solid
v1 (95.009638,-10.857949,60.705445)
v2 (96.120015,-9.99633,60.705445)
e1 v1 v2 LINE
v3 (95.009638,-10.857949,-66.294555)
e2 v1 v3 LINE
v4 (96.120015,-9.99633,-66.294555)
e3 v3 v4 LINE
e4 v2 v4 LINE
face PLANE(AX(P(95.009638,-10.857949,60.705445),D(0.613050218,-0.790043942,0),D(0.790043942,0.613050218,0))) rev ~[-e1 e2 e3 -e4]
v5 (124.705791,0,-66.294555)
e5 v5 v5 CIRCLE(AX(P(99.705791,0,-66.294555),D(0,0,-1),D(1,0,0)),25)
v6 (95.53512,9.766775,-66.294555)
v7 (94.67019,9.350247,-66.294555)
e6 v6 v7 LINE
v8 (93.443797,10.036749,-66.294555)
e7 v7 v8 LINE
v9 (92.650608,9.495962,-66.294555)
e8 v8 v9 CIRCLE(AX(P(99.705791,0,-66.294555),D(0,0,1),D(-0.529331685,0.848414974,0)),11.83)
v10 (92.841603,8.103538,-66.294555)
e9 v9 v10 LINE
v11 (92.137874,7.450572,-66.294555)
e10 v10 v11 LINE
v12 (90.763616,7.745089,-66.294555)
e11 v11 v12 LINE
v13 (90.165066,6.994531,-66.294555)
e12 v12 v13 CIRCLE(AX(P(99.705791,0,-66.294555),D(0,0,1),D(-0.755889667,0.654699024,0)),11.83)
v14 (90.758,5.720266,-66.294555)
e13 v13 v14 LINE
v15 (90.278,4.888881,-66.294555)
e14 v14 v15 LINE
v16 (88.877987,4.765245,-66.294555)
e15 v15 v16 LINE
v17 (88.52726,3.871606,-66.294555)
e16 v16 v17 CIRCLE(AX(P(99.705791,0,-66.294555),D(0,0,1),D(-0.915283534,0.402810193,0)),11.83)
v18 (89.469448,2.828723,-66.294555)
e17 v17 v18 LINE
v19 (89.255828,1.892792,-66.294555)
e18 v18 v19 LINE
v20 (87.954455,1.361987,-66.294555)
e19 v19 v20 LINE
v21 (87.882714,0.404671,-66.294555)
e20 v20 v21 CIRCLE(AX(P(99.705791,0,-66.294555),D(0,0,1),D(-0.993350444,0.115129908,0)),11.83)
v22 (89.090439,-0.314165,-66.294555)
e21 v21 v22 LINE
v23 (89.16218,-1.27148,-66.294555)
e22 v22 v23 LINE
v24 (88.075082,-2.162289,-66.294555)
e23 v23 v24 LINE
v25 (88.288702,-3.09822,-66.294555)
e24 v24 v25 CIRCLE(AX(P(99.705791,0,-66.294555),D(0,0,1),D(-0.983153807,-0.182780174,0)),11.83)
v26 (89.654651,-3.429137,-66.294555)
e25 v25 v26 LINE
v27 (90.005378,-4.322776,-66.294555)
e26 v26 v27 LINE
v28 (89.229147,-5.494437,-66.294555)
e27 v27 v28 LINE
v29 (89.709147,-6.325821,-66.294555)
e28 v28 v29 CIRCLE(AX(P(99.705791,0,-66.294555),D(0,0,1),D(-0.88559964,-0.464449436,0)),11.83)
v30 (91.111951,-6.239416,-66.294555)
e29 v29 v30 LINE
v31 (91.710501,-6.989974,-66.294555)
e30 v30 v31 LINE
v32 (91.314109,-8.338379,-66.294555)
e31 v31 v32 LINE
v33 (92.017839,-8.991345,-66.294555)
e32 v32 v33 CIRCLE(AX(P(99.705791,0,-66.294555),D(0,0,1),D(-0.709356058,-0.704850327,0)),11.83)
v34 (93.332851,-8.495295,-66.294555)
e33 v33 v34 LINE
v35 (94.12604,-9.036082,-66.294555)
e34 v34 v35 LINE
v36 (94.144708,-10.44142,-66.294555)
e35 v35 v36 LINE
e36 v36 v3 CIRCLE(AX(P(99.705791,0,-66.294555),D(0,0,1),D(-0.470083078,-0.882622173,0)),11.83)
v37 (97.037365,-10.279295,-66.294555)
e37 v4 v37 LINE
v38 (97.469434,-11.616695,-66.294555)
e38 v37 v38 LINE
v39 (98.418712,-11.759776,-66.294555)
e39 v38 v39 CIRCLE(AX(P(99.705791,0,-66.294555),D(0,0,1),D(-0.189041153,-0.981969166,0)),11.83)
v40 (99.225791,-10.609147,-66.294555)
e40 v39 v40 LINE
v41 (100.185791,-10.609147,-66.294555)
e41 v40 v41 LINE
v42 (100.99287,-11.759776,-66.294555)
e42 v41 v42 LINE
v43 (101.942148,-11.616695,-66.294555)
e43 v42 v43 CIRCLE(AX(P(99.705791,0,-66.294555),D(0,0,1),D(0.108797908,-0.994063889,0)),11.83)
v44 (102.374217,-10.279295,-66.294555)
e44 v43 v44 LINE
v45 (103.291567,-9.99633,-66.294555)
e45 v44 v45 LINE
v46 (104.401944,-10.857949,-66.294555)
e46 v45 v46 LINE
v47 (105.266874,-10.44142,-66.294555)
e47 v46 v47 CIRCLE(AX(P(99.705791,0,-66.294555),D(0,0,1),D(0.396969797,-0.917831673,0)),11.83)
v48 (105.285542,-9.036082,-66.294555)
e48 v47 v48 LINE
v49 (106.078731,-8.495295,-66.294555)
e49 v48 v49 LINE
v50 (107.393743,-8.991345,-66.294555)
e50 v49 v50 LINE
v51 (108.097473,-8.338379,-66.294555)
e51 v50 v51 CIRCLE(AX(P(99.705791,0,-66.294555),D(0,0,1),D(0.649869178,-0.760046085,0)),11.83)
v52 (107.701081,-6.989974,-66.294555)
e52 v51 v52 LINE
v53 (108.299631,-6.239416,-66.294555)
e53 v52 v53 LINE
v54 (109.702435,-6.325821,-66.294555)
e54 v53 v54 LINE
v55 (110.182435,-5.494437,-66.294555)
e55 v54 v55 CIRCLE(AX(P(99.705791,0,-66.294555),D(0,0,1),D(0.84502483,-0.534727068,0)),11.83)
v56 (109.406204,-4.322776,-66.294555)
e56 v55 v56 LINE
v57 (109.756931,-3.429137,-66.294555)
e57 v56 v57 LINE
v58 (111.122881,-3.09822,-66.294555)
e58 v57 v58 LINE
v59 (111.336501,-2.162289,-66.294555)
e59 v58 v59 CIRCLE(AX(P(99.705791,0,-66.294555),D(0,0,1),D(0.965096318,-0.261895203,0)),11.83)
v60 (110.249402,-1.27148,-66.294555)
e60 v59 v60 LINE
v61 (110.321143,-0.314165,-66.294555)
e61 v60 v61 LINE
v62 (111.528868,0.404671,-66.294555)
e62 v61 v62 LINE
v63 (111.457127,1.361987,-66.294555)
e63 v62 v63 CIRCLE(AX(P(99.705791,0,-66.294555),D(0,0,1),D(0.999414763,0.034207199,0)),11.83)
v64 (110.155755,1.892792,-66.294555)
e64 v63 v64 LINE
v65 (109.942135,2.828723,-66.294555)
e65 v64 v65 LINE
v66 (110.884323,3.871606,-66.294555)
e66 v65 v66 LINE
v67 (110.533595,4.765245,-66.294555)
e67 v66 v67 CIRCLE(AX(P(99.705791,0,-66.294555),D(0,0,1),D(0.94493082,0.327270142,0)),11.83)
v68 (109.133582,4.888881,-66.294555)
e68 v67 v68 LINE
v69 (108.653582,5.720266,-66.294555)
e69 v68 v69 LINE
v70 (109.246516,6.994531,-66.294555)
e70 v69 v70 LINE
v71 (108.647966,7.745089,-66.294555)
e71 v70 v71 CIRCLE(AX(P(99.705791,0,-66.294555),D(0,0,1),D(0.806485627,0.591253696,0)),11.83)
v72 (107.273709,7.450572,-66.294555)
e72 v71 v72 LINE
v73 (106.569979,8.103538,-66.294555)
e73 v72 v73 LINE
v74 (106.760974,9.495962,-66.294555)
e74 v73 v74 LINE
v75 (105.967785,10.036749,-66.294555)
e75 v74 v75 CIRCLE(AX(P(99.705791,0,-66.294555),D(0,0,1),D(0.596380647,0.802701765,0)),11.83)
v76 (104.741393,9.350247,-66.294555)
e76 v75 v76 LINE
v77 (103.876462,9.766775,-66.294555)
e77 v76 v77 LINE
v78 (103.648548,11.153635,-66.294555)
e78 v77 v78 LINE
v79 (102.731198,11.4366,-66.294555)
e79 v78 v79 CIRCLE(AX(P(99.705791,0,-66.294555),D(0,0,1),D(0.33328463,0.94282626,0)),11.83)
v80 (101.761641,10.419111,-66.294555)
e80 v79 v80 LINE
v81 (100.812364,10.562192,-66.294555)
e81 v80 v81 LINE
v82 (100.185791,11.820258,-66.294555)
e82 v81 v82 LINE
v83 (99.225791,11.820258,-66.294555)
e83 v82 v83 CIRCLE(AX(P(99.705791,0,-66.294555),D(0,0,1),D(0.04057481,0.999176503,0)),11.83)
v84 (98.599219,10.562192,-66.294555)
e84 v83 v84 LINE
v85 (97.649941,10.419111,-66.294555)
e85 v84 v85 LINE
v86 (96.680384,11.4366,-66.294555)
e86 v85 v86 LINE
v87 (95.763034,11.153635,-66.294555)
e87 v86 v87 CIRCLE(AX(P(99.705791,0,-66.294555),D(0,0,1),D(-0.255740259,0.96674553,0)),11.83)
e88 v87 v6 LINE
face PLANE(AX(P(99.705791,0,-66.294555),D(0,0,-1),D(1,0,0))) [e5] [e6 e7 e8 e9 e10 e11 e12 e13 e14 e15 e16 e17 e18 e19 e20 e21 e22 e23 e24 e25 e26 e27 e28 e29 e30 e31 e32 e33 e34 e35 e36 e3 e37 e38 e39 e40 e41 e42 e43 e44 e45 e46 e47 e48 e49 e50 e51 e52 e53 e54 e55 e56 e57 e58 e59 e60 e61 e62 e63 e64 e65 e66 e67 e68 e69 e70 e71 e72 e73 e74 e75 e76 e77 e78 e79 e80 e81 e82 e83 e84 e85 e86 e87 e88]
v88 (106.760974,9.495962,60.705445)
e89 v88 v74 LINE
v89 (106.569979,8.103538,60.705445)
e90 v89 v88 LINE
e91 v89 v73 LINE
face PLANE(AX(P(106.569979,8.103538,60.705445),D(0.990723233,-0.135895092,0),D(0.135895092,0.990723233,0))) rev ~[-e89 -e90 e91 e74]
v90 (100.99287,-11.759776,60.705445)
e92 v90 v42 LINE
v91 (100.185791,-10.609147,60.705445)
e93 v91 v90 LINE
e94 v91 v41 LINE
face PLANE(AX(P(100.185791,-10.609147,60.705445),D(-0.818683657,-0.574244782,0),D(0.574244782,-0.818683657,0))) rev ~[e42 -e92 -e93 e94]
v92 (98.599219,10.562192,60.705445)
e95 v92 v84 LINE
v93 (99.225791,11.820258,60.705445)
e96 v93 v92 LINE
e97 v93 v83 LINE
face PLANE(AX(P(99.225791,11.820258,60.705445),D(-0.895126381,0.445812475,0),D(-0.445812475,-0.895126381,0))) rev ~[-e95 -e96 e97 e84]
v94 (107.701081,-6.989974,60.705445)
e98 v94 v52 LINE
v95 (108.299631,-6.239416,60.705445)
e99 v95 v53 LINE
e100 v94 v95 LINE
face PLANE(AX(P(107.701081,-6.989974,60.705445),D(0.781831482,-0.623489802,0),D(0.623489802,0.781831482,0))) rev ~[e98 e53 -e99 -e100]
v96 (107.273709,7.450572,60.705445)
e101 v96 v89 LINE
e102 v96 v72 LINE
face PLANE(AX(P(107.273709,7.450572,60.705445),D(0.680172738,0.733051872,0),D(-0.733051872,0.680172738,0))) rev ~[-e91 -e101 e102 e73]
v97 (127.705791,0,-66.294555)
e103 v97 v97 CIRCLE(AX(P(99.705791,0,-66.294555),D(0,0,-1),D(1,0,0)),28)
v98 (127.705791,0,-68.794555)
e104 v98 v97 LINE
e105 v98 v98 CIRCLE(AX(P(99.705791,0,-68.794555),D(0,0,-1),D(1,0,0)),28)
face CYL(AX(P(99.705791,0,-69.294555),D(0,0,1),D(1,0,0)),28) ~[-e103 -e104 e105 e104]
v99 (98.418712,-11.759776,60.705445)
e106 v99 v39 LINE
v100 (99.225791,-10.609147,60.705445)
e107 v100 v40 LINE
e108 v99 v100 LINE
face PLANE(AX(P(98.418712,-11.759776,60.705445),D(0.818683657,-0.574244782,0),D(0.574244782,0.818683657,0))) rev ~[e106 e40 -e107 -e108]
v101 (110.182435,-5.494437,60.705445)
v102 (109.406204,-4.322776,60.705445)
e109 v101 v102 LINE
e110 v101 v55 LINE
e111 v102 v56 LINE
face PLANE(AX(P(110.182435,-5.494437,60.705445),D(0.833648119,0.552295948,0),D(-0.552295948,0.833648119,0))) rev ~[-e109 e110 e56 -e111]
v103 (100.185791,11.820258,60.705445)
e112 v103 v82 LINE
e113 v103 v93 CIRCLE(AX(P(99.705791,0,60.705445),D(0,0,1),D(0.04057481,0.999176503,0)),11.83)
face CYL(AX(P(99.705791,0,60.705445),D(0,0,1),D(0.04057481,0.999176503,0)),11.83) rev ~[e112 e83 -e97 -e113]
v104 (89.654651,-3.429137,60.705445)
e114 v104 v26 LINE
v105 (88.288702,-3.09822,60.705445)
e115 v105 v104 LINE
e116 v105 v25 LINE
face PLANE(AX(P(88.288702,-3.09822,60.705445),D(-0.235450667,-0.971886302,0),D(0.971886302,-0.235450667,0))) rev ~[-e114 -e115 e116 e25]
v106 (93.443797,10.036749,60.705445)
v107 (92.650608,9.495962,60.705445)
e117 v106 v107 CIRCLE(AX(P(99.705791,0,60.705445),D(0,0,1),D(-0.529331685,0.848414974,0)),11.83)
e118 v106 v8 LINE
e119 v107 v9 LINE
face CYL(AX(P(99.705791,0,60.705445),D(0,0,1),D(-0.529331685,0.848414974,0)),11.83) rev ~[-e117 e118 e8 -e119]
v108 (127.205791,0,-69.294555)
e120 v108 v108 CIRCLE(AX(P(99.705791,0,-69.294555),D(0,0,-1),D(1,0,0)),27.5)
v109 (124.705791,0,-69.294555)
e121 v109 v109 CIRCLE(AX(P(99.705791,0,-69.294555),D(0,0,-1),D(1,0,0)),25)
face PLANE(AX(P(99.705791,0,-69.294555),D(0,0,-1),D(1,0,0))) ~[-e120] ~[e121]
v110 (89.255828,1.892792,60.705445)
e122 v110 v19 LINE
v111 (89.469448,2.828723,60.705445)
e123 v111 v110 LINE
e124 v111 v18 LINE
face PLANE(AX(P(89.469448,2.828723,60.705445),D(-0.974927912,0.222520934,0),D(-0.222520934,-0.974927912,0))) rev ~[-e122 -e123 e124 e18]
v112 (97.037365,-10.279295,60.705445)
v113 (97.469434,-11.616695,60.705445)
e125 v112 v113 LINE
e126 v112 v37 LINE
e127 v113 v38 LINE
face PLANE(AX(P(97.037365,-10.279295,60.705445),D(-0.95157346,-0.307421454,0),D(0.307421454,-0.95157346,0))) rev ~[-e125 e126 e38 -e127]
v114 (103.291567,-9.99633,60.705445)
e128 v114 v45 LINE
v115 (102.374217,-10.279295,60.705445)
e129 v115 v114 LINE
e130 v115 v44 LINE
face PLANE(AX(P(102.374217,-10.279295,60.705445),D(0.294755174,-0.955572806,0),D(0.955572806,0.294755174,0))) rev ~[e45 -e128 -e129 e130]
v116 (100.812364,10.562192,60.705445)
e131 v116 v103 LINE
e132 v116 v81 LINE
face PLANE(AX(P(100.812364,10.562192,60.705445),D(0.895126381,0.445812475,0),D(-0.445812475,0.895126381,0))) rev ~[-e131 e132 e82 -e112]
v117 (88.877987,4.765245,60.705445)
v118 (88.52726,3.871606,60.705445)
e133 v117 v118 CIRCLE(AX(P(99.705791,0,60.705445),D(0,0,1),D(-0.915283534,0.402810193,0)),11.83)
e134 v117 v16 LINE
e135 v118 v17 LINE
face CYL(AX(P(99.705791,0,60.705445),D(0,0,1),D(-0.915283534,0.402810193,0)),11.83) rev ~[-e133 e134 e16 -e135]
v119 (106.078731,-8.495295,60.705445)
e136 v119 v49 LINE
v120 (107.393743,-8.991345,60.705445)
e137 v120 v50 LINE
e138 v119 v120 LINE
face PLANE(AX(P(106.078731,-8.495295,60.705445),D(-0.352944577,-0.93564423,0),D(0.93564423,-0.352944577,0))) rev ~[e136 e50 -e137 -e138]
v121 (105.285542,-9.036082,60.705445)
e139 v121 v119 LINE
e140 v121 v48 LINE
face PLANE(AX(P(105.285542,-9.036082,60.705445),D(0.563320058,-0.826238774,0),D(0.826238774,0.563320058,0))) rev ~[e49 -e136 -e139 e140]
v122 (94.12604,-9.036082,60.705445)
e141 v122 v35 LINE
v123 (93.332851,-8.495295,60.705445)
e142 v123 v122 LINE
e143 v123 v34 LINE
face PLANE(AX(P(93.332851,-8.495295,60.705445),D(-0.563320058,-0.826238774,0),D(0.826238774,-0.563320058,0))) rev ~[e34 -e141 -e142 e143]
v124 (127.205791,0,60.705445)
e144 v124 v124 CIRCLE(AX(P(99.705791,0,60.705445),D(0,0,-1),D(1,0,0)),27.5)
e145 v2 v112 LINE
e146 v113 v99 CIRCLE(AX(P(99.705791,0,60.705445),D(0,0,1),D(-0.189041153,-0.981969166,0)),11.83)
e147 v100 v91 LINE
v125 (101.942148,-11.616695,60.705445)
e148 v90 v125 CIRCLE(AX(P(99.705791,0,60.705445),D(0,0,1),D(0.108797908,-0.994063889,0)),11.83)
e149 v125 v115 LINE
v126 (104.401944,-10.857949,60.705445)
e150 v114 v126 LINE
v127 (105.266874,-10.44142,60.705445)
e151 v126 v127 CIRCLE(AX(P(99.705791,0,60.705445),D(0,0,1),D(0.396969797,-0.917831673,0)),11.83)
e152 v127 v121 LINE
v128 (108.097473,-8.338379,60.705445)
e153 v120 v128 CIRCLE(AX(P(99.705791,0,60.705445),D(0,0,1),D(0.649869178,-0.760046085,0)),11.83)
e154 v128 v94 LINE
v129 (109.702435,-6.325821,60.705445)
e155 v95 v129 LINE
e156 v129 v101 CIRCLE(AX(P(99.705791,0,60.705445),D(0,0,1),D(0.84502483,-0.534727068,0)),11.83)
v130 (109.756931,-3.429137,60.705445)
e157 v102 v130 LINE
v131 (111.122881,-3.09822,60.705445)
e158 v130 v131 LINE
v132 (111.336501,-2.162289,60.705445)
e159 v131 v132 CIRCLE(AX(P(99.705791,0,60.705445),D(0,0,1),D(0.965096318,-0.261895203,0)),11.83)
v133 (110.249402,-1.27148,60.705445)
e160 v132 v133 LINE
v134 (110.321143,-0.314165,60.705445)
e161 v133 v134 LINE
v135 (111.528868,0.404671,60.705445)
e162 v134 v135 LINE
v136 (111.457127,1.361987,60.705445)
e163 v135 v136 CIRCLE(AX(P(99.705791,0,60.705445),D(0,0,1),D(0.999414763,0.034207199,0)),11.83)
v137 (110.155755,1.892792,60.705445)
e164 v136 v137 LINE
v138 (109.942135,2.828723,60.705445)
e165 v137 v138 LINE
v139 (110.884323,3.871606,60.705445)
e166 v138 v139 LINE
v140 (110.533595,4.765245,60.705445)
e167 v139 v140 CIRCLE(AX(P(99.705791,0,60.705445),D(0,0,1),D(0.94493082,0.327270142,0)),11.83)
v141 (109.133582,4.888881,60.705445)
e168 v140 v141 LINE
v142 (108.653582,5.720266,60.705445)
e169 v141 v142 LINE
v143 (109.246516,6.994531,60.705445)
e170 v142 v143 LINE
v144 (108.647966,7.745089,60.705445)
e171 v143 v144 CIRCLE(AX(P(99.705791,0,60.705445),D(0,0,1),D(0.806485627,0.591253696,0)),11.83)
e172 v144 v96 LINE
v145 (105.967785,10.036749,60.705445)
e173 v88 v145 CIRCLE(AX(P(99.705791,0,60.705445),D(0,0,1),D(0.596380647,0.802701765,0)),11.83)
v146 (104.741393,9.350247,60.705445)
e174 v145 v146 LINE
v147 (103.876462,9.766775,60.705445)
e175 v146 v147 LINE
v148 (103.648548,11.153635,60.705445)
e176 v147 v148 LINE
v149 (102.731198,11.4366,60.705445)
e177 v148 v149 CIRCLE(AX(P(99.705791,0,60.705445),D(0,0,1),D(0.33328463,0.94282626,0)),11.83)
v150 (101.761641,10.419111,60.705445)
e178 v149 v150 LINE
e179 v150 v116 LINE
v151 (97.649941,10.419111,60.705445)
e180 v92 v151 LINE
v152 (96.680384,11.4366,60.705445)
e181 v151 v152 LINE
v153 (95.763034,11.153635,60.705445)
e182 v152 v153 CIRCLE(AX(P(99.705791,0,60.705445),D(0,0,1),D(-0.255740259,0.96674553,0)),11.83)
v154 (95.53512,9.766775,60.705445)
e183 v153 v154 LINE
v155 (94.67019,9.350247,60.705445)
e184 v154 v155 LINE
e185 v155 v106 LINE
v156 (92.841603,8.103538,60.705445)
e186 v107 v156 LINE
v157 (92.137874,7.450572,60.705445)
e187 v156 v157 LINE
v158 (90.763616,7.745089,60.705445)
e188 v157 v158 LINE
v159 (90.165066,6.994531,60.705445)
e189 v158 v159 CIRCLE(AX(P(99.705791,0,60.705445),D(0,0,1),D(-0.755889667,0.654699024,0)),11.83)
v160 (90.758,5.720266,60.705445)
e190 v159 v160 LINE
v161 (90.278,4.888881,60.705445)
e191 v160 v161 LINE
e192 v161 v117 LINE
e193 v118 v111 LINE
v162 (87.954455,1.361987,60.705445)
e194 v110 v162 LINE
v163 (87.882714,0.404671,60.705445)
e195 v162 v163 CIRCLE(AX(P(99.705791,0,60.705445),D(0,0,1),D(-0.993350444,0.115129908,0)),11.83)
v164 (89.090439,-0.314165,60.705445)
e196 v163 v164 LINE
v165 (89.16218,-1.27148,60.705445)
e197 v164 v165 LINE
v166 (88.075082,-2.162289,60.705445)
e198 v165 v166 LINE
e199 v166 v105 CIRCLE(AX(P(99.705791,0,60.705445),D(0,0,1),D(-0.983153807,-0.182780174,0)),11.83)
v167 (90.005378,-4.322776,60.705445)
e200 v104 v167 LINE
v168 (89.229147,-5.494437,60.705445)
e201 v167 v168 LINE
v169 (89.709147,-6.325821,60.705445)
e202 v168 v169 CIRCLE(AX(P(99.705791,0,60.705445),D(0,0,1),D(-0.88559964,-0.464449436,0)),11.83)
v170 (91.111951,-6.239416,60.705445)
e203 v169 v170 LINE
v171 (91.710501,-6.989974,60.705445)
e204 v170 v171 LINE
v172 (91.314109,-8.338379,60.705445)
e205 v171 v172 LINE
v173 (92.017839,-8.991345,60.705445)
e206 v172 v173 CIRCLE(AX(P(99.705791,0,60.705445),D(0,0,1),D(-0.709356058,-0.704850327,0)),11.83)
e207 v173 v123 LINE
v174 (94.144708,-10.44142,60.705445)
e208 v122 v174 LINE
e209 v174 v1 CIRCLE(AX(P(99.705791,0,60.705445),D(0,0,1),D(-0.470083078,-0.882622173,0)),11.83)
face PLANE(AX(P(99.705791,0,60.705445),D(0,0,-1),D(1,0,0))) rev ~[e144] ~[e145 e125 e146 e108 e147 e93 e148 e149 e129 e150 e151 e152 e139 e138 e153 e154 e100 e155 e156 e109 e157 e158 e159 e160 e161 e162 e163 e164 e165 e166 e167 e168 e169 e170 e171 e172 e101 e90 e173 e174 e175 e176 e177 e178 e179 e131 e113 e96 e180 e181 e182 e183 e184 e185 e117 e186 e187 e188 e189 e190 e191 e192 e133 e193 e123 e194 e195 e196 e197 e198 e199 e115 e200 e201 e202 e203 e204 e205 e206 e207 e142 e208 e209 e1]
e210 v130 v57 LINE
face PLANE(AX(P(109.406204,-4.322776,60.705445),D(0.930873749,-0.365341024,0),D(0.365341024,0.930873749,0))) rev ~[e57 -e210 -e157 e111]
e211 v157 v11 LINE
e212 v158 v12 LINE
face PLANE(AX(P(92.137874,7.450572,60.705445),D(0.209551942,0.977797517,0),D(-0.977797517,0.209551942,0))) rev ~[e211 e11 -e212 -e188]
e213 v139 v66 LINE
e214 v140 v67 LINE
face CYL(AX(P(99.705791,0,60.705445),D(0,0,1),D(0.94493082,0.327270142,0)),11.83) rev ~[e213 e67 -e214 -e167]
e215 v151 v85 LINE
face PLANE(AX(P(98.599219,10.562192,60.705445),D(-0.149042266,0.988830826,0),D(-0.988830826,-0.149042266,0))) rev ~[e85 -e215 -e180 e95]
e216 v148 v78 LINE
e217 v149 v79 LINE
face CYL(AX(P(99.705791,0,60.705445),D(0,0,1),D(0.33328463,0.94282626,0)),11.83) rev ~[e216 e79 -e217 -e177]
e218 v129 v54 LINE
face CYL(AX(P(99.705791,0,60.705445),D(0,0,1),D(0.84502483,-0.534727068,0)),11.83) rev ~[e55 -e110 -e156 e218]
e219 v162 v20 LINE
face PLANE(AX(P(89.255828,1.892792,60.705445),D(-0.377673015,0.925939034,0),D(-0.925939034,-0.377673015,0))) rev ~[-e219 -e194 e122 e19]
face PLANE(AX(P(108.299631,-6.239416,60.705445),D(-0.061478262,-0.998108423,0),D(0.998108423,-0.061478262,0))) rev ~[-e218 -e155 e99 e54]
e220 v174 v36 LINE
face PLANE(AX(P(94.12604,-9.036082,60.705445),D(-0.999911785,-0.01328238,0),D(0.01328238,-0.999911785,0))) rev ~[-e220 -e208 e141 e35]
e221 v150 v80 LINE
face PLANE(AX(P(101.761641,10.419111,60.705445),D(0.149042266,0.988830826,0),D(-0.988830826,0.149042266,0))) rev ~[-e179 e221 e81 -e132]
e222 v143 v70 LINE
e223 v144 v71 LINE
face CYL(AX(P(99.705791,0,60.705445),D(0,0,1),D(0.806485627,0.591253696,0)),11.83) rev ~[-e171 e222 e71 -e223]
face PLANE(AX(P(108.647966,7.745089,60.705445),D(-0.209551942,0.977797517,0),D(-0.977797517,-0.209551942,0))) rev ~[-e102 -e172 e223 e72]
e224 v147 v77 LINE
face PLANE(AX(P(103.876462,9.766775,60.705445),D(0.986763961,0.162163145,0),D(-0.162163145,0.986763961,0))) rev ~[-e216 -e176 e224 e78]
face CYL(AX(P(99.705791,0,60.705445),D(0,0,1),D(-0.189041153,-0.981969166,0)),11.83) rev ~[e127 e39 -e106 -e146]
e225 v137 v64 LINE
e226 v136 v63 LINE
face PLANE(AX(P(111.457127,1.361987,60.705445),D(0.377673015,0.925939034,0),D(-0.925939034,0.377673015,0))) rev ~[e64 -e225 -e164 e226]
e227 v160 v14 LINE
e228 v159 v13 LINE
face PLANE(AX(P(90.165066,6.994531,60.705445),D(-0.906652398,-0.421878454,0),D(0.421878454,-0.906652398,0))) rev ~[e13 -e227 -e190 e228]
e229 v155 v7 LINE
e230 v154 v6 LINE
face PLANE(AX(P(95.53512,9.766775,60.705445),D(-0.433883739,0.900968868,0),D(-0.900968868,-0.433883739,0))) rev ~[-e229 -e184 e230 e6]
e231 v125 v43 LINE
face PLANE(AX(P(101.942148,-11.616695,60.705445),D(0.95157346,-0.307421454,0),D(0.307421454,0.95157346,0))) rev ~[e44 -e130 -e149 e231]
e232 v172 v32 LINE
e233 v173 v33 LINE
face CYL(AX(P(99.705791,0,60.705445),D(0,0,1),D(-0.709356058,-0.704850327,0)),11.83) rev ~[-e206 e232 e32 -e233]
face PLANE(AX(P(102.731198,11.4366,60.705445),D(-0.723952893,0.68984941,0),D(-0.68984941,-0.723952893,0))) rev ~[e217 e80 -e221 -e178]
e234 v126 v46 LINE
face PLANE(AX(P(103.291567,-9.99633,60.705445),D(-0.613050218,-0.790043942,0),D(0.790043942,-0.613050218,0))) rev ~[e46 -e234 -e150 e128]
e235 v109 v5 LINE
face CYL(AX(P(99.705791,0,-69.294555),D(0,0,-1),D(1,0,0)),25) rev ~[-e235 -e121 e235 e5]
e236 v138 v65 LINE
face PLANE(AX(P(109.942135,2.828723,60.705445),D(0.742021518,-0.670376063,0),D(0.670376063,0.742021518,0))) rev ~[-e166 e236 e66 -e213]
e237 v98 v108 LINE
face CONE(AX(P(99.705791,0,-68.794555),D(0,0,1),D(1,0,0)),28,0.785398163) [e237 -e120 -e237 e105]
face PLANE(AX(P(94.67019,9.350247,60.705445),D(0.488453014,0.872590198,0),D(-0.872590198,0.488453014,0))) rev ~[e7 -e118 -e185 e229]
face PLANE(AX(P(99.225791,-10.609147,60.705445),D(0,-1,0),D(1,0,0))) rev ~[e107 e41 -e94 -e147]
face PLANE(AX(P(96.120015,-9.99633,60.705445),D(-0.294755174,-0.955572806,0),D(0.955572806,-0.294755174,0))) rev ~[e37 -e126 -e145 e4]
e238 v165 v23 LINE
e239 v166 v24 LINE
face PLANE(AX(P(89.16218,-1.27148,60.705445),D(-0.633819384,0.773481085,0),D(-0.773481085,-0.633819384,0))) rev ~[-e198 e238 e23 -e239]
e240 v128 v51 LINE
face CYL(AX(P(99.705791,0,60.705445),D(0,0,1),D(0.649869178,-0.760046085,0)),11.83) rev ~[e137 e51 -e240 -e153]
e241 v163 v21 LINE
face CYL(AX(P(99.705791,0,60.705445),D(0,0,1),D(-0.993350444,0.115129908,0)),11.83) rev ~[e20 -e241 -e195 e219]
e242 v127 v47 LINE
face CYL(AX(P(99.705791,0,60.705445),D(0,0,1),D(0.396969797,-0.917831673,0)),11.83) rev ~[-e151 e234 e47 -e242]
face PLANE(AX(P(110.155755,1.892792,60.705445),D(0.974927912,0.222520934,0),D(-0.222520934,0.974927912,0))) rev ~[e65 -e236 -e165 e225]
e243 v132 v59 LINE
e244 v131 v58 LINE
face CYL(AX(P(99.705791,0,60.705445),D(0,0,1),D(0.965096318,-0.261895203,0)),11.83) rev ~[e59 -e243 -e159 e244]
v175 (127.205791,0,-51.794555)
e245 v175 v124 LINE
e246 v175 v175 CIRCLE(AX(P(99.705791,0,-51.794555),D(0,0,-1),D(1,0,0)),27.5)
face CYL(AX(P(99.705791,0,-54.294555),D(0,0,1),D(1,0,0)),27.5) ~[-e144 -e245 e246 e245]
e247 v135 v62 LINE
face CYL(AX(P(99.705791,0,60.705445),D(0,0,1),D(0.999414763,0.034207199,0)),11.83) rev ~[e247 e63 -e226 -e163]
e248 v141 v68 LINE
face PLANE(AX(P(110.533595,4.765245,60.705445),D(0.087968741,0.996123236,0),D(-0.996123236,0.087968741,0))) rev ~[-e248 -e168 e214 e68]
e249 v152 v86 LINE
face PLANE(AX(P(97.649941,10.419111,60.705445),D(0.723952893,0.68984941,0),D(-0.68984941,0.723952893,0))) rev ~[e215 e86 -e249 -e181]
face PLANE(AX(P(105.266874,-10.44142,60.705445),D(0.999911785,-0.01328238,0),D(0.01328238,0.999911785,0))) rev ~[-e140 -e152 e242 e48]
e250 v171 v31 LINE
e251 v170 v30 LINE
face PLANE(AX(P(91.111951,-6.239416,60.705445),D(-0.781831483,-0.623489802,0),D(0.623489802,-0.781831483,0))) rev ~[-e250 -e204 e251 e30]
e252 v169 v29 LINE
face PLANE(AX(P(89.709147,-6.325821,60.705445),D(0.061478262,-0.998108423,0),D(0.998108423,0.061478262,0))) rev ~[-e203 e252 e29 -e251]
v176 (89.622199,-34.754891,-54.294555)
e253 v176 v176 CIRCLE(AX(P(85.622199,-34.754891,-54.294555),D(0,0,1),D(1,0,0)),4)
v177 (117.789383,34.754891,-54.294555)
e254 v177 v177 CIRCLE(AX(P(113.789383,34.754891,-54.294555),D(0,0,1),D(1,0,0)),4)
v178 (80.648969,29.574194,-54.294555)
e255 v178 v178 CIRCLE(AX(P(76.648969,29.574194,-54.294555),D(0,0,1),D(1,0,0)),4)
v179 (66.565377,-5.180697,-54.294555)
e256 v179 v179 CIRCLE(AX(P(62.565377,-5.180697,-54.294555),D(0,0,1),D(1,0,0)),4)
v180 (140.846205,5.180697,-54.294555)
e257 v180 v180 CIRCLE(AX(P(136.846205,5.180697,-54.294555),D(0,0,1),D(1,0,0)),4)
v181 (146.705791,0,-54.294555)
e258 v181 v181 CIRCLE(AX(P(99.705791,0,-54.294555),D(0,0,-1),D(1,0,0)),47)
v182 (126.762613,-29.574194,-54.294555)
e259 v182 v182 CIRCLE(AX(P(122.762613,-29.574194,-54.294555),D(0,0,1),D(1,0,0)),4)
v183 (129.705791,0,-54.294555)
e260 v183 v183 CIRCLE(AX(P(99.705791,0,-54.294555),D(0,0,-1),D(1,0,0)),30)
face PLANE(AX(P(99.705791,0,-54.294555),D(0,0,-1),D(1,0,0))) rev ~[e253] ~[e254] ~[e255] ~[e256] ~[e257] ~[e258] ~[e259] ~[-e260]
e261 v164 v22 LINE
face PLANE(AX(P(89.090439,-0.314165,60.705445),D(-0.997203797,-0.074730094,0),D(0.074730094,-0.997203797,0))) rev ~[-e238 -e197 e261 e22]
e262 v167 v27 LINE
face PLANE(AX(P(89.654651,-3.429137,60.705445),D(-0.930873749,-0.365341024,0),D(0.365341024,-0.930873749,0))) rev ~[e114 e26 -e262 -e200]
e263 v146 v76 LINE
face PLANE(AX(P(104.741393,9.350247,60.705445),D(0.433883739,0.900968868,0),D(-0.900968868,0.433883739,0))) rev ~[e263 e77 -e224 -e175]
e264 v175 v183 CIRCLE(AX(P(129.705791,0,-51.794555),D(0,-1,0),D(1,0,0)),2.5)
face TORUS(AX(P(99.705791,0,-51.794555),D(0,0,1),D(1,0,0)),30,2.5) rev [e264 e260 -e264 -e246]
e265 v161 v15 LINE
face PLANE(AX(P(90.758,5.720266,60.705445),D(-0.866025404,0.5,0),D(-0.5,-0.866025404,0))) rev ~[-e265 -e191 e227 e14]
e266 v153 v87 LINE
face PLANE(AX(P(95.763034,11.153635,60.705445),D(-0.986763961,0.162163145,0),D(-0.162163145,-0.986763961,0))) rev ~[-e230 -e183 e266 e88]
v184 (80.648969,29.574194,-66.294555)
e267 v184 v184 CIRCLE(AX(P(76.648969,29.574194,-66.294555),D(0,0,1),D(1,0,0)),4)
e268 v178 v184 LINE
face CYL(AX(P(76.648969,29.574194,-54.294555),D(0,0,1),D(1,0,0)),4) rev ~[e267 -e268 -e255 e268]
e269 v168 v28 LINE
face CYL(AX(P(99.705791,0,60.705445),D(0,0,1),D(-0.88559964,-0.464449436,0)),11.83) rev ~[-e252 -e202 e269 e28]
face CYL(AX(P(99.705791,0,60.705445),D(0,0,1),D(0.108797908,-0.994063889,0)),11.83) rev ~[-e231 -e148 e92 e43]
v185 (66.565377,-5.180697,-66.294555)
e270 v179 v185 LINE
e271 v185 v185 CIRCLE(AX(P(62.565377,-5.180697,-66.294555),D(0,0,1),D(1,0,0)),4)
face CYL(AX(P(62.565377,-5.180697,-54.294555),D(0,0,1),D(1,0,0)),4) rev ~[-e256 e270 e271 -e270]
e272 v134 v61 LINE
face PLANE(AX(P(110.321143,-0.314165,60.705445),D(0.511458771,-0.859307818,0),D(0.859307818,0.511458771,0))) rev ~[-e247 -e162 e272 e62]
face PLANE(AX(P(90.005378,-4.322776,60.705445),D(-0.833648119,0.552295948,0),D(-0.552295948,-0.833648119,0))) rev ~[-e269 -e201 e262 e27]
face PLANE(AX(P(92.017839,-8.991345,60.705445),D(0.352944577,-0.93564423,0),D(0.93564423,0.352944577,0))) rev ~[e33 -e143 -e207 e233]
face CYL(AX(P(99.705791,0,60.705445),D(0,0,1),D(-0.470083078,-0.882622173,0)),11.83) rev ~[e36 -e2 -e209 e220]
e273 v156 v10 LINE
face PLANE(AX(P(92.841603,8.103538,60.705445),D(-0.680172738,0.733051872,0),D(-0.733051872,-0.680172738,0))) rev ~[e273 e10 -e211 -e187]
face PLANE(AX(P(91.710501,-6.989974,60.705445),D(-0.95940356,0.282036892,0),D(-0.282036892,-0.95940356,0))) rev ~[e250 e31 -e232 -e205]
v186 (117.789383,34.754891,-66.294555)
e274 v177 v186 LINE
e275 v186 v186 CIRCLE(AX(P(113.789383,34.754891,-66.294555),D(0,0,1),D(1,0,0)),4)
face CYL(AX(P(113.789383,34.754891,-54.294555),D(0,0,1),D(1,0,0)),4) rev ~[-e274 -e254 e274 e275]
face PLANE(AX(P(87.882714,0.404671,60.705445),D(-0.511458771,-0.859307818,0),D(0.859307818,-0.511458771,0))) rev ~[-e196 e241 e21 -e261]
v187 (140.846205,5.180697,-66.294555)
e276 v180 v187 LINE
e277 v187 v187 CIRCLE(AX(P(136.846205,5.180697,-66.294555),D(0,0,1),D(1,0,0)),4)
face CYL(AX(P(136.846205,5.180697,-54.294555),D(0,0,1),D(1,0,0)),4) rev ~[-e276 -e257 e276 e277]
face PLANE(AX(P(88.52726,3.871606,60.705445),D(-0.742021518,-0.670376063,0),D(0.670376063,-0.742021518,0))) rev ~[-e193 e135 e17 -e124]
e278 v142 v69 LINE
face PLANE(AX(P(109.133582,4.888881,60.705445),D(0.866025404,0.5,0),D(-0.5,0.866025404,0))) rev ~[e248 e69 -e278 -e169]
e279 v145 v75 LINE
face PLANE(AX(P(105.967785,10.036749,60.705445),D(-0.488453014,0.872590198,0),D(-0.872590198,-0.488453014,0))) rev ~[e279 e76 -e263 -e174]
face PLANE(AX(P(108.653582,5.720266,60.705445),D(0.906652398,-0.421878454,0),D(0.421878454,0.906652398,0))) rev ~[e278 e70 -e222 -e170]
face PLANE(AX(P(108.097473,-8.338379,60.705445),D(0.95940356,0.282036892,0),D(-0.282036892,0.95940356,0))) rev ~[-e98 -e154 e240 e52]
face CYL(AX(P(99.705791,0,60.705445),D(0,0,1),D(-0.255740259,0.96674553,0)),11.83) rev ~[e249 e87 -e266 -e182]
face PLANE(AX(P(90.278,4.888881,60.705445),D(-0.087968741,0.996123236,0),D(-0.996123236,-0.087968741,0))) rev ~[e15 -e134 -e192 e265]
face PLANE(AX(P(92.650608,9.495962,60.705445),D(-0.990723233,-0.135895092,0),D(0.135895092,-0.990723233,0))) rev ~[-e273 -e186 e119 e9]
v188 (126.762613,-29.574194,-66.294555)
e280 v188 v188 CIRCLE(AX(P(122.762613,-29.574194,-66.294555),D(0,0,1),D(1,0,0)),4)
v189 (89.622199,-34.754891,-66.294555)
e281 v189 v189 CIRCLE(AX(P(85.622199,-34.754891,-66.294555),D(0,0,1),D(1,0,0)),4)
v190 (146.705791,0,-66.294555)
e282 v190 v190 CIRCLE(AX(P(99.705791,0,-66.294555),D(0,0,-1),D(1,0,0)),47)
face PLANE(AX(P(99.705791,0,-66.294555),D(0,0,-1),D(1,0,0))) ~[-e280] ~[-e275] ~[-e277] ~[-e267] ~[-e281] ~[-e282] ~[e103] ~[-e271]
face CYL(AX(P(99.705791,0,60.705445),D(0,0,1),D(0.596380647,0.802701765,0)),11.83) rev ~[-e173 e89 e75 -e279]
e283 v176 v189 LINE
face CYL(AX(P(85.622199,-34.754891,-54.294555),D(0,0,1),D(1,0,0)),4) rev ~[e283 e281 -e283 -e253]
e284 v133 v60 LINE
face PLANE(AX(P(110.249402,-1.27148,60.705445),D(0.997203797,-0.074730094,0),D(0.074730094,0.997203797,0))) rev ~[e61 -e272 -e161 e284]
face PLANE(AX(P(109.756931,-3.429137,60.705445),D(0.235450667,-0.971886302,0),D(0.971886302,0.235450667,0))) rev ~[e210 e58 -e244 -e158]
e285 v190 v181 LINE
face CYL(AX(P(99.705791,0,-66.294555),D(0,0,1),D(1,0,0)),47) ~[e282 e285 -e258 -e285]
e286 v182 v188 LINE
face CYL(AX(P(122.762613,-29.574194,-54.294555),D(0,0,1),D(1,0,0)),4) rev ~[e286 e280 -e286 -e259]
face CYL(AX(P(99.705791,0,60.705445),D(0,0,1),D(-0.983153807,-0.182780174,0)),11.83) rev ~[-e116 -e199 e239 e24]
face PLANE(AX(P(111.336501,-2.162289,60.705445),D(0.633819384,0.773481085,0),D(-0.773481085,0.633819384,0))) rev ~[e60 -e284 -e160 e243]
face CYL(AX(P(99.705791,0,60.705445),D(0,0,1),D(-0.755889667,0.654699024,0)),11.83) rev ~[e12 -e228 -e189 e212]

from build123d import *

# Parameters (mm, degrees)
F3_DEPTH = 241
F4_R     = 4
F5_DEPTH = 25
F6_R     = 2.5
F7_R     = 25
F8_DEPTH = 3
F9_SIZE2 = 0.5
F9_SIZE  = 0.5


with BuildPart() as f1:
    # F0 (on Front) → F1 (revolve)
    with BuildSketch(Plane.XZ):
        Polygon((127.2057911114, 60.7054449812), (99.7057911114, 60.7054449812), (99.7057911114, -69.2945550188), (127.7057911114, -69.2945550188), (127.7057911114, -66.2945550188), (146.7057911114, -66.2945550188), (146.7057911114, -54.2945550188), (127.2057911114, -54.2945550188), align=None)
    revolve(axis=Axis((99.7057911114, 0, -4.2945550188), (0, 0, -1)))

    # F2 (on face) → F3 (cut)
    with BuildSketch(Plane.XY.offset(60.7054449812)):
        with BuildLine():
            Line((97.6499410042, 10.4191113026), (96.6803838397, 11.4365996188))
            ThreePointArc((96.6803838397, 11.4365996188), (96.2188373981, 11.3044262925), (95.7630339461, 11.1536346513))
            Line((95.7630339461, 11.1536346513), (95.5351198002, 9.7667753539))
            Line((95.5351198002, 9.7667753539), (94.670189687, 9.3502469644))
            Line((94.670189687, 9.3502469644), (93.4437972808, 10.0367491383))
            ThreePointArc((93.4437972808, 10.0367491383), (93.0417148245, 9.7744047002), (92.6506080575, 9.4959618826))
            Line((92.6506080575, 9.4959618826), (92.8416034516, 8.1035379787))
            Line((92.8416034516, 8.1035379787), (92.1378736547, 7.4505721504))
            Line((92.1378736547, 7.4505721504), (90.7636163541, 7.7450894514))
            ThreePointArc((90.7636163541, 7.7450894514), (90.4567246738, 7.375884356), (90.1650661443, 6.9945312282))
            Line((90.1650661443, 6.9945312282), (90.7580002997, 5.7202656922))
            Line((90.7580002997, 5.7202656922), (90.2780002997, 4.8888813046))
            Line((90.2780002997, 4.8888813046), (88.8779868967, 4.7652445779))
            ThreePointArc((88.8779868967, 4.7652445779), (88.6935546649, 4.3219843183), (88.5272595133, 3.8716057792))
            Line((88.5272595133, 3.8716057792), (89.4694476281, 2.8287226961))
            Line((89.4694476281, 2.8287226961), (89.2558275315, 1.8927919004))
            Line((89.2558275315, 1.8927919004), (87.9544553607, 1.3619868118))
            ThreePointArc((87.9544553607, 1.3619868118), (87.9088701907, 0.8840570071), (87.8827144709, 0.4046711665))
            Line((87.8827144709, 0.4046711665), (89.0904389964, -0.3141647253))
            Line((89.0904389964, -0.3141647253), (89.1621798862, -1.2714803706))
            Line((89.1621798862, -1.2714803706), (88.0750815762, -2.1622894596))
            ThreePointArc((88.0750815762, -2.1622894596), (88.1723939103, -2.6324226487), (88.2887016728, -3.0982202553))
            Line((88.2887016728, -3.0982202553), (89.6546509849, -3.4291372321))
            Line((89.6546509849, -3.4291372321), (90.0053783682, -4.3227760308))
            Line((90.0053783682, -4.3227760308), (89.2291473743, -5.4944368234))
            ThreePointArc((89.2291473743, -5.4944368234), (89.4607105846, -5.915), (89.7091473743, -6.325821211))
            Line((89.7091473743, -6.325821211), (91.1119508823, -6.2394158473))
            Line((91.1119508823, -6.2394158473), (91.710501092, -6.9899740705))
            Line((91.710501092, -6.9899740705), (91.3141089445, -8.3383793635))
            ThreePointArc((91.3141089445, -8.3383793635), (91.6593476236, -8.6720036437), (92.0178387414, -8.9913451918))
            Line((92.0178387414, -8.9913451918), (93.3328511975, -8.4952949833))
            Line((93.3328511975, -8.4952949833), (94.1260404208, -9.0360822391))
            Line((94.1260404208, -9.0360822391), (94.1447083015, -10.4414203048))
            ThreePointArc((94.1447083015, -10.4414203048), (94.5729464776, -10.6584617073), (95.0096384147, -10.8579486944))
            Line((95.0096384147, -10.8579486944), (96.1200151912, -9.996329879))
            Line((96.1200151912, -9.996329879), (97.0373650848, -10.2792948465))
            Line((97.0373650848, -10.2792948465), (97.4694342706, -11.6166952306))
            ThreePointArc((97.4694342706, -11.6166952306), (97.9426211025, -11.6978686742), (98.4187118637, -11.7597758061))
            Line((98.4187118637, -11.7597758061), (99.2257911114, -10.6091469968))
            Line((99.2257911114, -10.6091469968), (100.1857911114, -10.6091469968))
            Line((100.1857911114, -10.6091469968), (100.992870359, -11.7597758061))
            ThreePointArc((100.992870359, -11.7597758061), (101.4689611203, -11.6978686742), (101.9421479522, -11.6166952306))
            Line((101.9421479522, -11.6166952306), (102.374217138, -10.2792948465))
            Line((102.374217138, -10.2792948465), (103.2915670316, -9.996329879))
            Line((103.2915670316, -9.996329879), (104.4019438081, -10.8579486944))
            ThreePointArc((104.4019438081, -10.8579486944), (104.8386357452, -10.6584617073), (105.2668739213, -10.4414203048))
            Line((105.2668739213, -10.4414203048), (105.285541802, -9.0360822391))
            Line((105.285541802, -9.0360822391), (106.0787310253, -8.4952949833))
            Line((106.0787310253, -8.4952949833), (107.3937434813, -8.9913451918))
            ThreePointArc((107.3937434813, -8.9913451918), (107.7522345992, -8.6720036437), (108.0974732783, -8.3383793635))
            Line((108.0974732783, -8.3383793635), (107.7010811307, -6.9899740705))
            Line((107.7010811307, -6.9899740705), (108.2996313405, -6.2394158473))
            Line((108.2996313405, -6.2394158473), (109.7024348485, -6.325821211))
            ThreePointArc((109.7024348485, -6.325821211), (109.9508716382, -5.915), (110.1824348485, -5.4944368234))
            Line((110.1824348485, -5.4944368234), (109.4062038545, -4.3227760308))
            Line((109.4062038545, -4.3227760308), (109.7569312379, -3.4291372321))
            Line((109.7569312379, -3.4291372321), (111.12288055, -3.0982202553))
            ThreePointArc((111.12288055, -3.0982202553), (111.2391883125, -2.6324226487), (111.3365006466, -2.1622894596))
            Line((111.3365006466, -2.1622894596), (110.2494023365, -1.2714803706))
            Line((110.2494023365, -1.2714803706), (110.3211432264, -0.3141647253))
            Line((110.3211432264, -0.3141647253), (111.5288677519, 0.4046711665))
            ThreePointArc((111.5288677519, 0.4046711665), (111.502712032, 0.8840570071), (111.457126862, 1.3619868118))
            Line((111.457126862, 1.3619868118), (110.1557546913, 1.8927919004))
            Line((110.1557546913, 1.8927919004), (109.9421345947, 2.8287226961))
            Line((109.9421345947, 2.8287226961), (110.8843227095, 3.8716057792))
            ThreePointArc((110.8843227095, 3.8716057792), (110.7180275579, 4.3219843183), (110.5335953261, 4.7652445779))
            Line((110.5335953261, 4.7652445779), (109.1335819231, 4.8888813046))
            Line((109.1335819231, 4.8888813046), (108.6535819231, 5.7202656922))
            Line((108.6535819231, 5.7202656922), (109.2465160785, 6.9945312282))
            ThreePointArc((109.2465160785, 6.9945312282), (108.954857549, 7.375884356), (108.6479658687, 7.7450894514))
            Line((108.6479658687, 7.7450894514), (107.2737085681, 7.4505721504))
            Line((107.2737085681, 7.4505721504), (106.5699787712, 8.1035379787))
            Line((106.5699787712, 8.1035379787), (106.7609741653, 9.4959618826))
            ThreePointArc((106.7609741653, 9.4959618826), (106.3698673983, 9.7744047002), (105.967784942, 10.0367491383))
            Line((105.967784942, 10.0367491383), (104.7413925358, 9.3502469644))
            Line((104.7413925358, 9.3502469644), (103.8764624226, 9.7667753539))
            Line((103.8764624226, 9.7667753539), (103.6485482767, 11.1536346513))
            ThreePointArc((103.6485482767, 11.1536346513), (103.1927448247, 11.3044262925), (102.7311983831, 11.4365996188))
            Line((102.7311983831, 11.4365996188), (101.7616412186, 10.4191113026))
            Line((101.7616412186, 10.4191113026), (100.8123636254, 10.5621918782))
            Line((100.8123636254, 10.5621918782), (100.1857911114, 11.8202580344))
            ThreePointArc((100.1857911114, 11.8202580344), (99.7057911114, 11.83), (99.2257911114, 11.8202580344))
            Line((99.2257911114, 11.8202580344), (98.5992185974, 10.5621918782))
            Line((98.5992185974, 10.5621918782), (97.6499410042, 10.4191113026))
        make_face()
    extrude(amount=-F3_DEPTH, mode=Mode.SUBTRACT)

    # F4 (on face) → F5 (cut)
    with BuildSketch(Plane.XY.offset(-54.2945550188)):
        with Locations((85.6221990078, -34.7548907847)):
            Circle(F4_R)
        with Locations((122.7626133849, -29.5741939306)):
            Circle(F4_R)
        with Locations((136.8462054885, 5.1806968541)):
            Circle(F4_R)
        with Locations((113.789383215, 34.7548907847)):
            Circle(F4_R)
        with Locations((76.6489688378, 29.5741939306)):
            Circle(F4_R)
        with Locations((62.5653767343, -5.1806968541)):
            Circle(F4_R)
    extrude(amount=-F5_DEPTH, mode=Mode.SUBTRACT)

    # F6
    f6_edges = [f1.edges().sort_by_distance(p)[0] for p in [
        (72.205791, 0, -54.294555),
    ]]
    fillet(f6_edges, radius=F6_R)

    # F7 (on face) → F8 (cut)
    with BuildSketch(Plane(origin=(0, 0, -69.2945550188), x_dir=(1, 0, 0), z_dir=(0, 0, -1))):
        with Locations((99.7057911114, 0)):
            Circle(F7_R)
        with BuildLine():
            Line((101.7616412186, -10.4191113026), (100.8123636254, -10.5621918782))
            Line((100.8123636254, -10.5621918782), (100.1857911114, -11.8202580344))
            ThreePointArc((100.1857911114, -11.8202580344), (99.7057911114, -11.83), (99.2257911114, -11.8202580344))
            Line((99.2257911114, -11.8202580344), (98.5992185974, -10.5621918782))
            Line((98.5992185974, -10.5621918782), (97.6499410042, -10.4191113026))
            Line((97.6499410042, -10.4191113026), (96.6803838397, -11.4365996188))
            ThreePointArc((96.6803838397, -11.4365996188), (96.2188373981, -11.3044262925), (95.7630339461, -11.1536346513))
            Line((95.7630339461, -11.1536346513), (95.5351198002, -9.7667753539))
            Line((95.5351198002, -9.7667753539), (94.670189687, -9.3502469644))
            Line((94.670189687, -9.3502469644), (93.4437972808, -10.0367491383))
            ThreePointArc((93.4437972808, -10.0367491383), (93.0417148245, -9.7744047002), (92.6506080575, -9.4959618826))
            Line((92.6506080575, -9.4959618826), (92.8416034516, -8.1035379787))
            Line((92.8416034516, -8.1035379787), (92.1378736547, -7.4505721504))
            Line((92.1378736547, -7.4505721504), (90.7636163541, -7.7450894514))
            ThreePointArc((90.7636163541, -7.7450894514), (90.4567246738, -7.375884356), (90.1650661443, -6.9945312282))
            Line((90.1650661443, -6.9945312282), (90.7580002997, -5.7202656922))
            Line((90.7580002997, -5.7202656922), (90.2780002997, -4.8888813046))
            Line((90.2780002997, -4.8888813046), (88.8779868967, -4.7652445779))
            ThreePointArc((88.8779868967, -4.7652445779), (88.6935546649, -4.3219843183), (88.5272595133, -3.8716057792))
            Line((88.5272595133, -3.8716057792), (89.4694476281, -2.8287226961))
            Line((89.4694476281, -2.8287226961), (89.2558275315, -1.8927919004))
            Line((89.2558275315, -1.8927919004), (87.9544553607, -1.3619868118))
            ThreePointArc((87.9544553607, -1.3619868118), (87.9088701907, -0.8840570071), (87.8827144709, -0.4046711665))
            Line((87.8827144709, -0.4046711665), (89.0904389964, 0.3141647253))
            Line((89.0904389964, 0.3141647253), (89.1621798862, 1.2714803706))
            Line((89.1621798862, 1.2714803706), (88.0750815762, 2.1622894596))
            ThreePointArc((88.0750815762, 2.1622894596), (88.1723939103, 2.6324226487), (88.2887016728, 3.0982202553))
            Line((88.2887016728, 3.0982202553), (89.6546509849, 3.4291372321))
            Line((89.6546509849, 3.4291372321), (90.0053783682, 4.3227760308))
            Line((90.0053783682, 4.3227760308), (89.2291473743, 5.4944368234))
            ThreePointArc((89.2291473743, 5.4944368234), (89.4607105846, 5.915), (89.7091473743, 6.325821211))
            Line((89.7091473743, 6.325821211), (91.1119508823, 6.2394158473))
            Line((91.1119508823, 6.2394158473), (91.710501092, 6.9899740705))
            Line((91.710501092, 6.9899740705), (91.3141089445, 8.3383793635))
            ThreePointArc((91.3141089445, 8.3383793635), (91.6593476236, 8.6720036437), (92.0178387414, 8.9913451918))
            Line((92.0178387414, 8.9913451918), (93.3328511975, 8.4952949833))
            Line((93.3328511975, 8.4952949833), (94.1260404208, 9.0360822391))
            Line((94.1260404208, 9.0360822391), (94.1447083015, 10.4414203048))
            ThreePointArc((94.1447083015, 10.4414203048), (94.5729464776, 10.6584617073), (95.0096384147, 10.8579486944))
            Line((95.0096384147, 10.8579486944), (96.1200151912, 9.996329879))
            Line((96.1200151912, 9.996329879), (97.0373650848, 10.2792948465))
            Line((97.0373650848, 10.2792948465), (97.4694342706, 11.6166952306))
            ThreePointArc((97.4694342706, 11.6166952306), (97.9426211025, 11.6978686742), (98.4187118637, 11.7597758061))
            Line((98.4187118637, 11.7597758061), (99.2257911114, 10.6091469968))
            Line((99.2257911114, 10.6091469968), (100.1857911114, 10.6091469968))
            Line((100.1857911114, 10.6091469968), (100.992870359, 11.7597758061))
            ThreePointArc((100.992870359, 11.7597758061), (101.4689611203, 11.6978686742), (101.9421479522, 11.6166952306))
            Line((101.9421479522, 11.6166952306), (102.374217138, 10.2792948465))
            Line((102.374217138, 10.2792948465), (103.2915670316, 9.996329879))
            Line((103.2915670316, 9.996329879), (104.4019438081, 10.8579486944))
            ThreePointArc((104.4019438081, 10.8579486944), (104.8386357452, 10.6584617073), (105.2668739213, 10.4414203048))
            Line((105.2668739213, 10.4414203048), (105.285541802, 9.0360822391))
            Line((105.285541802, 9.0360822391), (106.0787310253, 8.4952949833))
            Line((106.0787310253, 8.4952949833), (107.3937434813, 8.9913451918))
            ThreePointArc((107.3937434813, 8.9913451918), (107.7522345992, 8.6720036437), (108.0974732783, 8.3383793635))
            Line((108.0974732783, 8.3383793635), (107.7010811307, 6.9899740705))
            Line((107.7010811307, 6.9899740705), (108.2996313405, 6.2394158473))
            Line((108.2996313405, 6.2394158473), (109.7024348485, 6.325821211))
            ThreePointArc((109.7024348485, 6.325821211), (109.9508716382, 5.915), (110.1824348485, 5.4944368234))
            Line((110.1824348485, 5.4944368234), (109.4062038545, 4.3227760308))
            Line((109.4062038545, 4.3227760308), (109.7569312379, 3.4291372321))
            Line((109.7569312379, 3.4291372321), (111.12288055, 3.0982202553))
            ThreePointArc((111.12288055, 3.0982202553), (111.2391883125, 2.6324226487), (111.3365006466, 2.1622894596))
            Line((111.3365006466, 2.1622894596), (110.2494023365, 1.2714803706))
            Line((110.2494023365, 1.2714803706), (110.3211432264, 0.3141647253))
            Line((110.3211432264, 0.3141647253), (111.5288677519, -0.4046711665))
            ThreePointArc((111.5288677519, -0.4046711665), (111.502712032, -0.8840570071), (111.457126862, -1.3619868118))
            Line((111.457126862, -1.3619868118), (110.1557546913, -1.8927919004))
            Line((110.1557546913, -1.8927919004), (109.9421345947, -2.8287226961))
            Line((109.9421345947, -2.8287226961), (110.8843227095, -3.8716057792))
            ThreePointArc((110.8843227095, -3.8716057792), (110.7180275579, -4.3219843183), (110.5335953261, -4.7652445779))
            Line((110.5335953261, -4.7652445779), (109.1335819231, -4.8888813046))
            Line((109.1335819231, -4.8888813046), (108.6535819231, -5.7202656922))
            Line((108.6535819231, -5.7202656922), (109.2465160785, -6.9945312282))
            ThreePointArc((109.2465160785, -6.9945312282), (108.954857549, -7.375884356), (108.6479658687, -7.7450894514))
            Line((108.6479658687, -7.7450894514), (107.2737085681, -7.4505721504))
            Line((107.2737085681, -7.4505721504), (106.5699787712, -8.1035379787))
            Line((106.5699787712, -8.1035379787), (106.7609741653, -9.4959618826))
            ThreePointArc((106.7609741653, -9.4959618826), (106.3698673983, -9.7744047002), (105.967784942, -10.0367491383))
            Line((105.967784942, -10.0367491383), (104.7413925358, -9.3502469644))
            Line((104.7413925358, -9.3502469644), (103.8764624226, -9.7667753539))
            Line((103.8764624226, -9.7667753539), (103.6485482767, -11.1536346513))
            ThreePointArc((103.6485482767, -11.1536346513), (103.1927448247, -11.3044262925), (102.7311983831, -11.4365996188))
            Line((102.7311983831, -11.4365996188), (101.7616412186, -10.4191113026))
        make_face(mode=Mode.SUBTRACT)
    extrude(amount=-F8_DEPTH, mode=Mode.SUBTRACT)

    # F9
    f9_edges = [f1.edges().sort_by_distance(p)[0] for p in [
        (71.705791, 0, -69.294555),
    ]]
    chamfer(f9_edges, length=F9_SIZE, length2=F9_SIZE2)


solid = f1.part
